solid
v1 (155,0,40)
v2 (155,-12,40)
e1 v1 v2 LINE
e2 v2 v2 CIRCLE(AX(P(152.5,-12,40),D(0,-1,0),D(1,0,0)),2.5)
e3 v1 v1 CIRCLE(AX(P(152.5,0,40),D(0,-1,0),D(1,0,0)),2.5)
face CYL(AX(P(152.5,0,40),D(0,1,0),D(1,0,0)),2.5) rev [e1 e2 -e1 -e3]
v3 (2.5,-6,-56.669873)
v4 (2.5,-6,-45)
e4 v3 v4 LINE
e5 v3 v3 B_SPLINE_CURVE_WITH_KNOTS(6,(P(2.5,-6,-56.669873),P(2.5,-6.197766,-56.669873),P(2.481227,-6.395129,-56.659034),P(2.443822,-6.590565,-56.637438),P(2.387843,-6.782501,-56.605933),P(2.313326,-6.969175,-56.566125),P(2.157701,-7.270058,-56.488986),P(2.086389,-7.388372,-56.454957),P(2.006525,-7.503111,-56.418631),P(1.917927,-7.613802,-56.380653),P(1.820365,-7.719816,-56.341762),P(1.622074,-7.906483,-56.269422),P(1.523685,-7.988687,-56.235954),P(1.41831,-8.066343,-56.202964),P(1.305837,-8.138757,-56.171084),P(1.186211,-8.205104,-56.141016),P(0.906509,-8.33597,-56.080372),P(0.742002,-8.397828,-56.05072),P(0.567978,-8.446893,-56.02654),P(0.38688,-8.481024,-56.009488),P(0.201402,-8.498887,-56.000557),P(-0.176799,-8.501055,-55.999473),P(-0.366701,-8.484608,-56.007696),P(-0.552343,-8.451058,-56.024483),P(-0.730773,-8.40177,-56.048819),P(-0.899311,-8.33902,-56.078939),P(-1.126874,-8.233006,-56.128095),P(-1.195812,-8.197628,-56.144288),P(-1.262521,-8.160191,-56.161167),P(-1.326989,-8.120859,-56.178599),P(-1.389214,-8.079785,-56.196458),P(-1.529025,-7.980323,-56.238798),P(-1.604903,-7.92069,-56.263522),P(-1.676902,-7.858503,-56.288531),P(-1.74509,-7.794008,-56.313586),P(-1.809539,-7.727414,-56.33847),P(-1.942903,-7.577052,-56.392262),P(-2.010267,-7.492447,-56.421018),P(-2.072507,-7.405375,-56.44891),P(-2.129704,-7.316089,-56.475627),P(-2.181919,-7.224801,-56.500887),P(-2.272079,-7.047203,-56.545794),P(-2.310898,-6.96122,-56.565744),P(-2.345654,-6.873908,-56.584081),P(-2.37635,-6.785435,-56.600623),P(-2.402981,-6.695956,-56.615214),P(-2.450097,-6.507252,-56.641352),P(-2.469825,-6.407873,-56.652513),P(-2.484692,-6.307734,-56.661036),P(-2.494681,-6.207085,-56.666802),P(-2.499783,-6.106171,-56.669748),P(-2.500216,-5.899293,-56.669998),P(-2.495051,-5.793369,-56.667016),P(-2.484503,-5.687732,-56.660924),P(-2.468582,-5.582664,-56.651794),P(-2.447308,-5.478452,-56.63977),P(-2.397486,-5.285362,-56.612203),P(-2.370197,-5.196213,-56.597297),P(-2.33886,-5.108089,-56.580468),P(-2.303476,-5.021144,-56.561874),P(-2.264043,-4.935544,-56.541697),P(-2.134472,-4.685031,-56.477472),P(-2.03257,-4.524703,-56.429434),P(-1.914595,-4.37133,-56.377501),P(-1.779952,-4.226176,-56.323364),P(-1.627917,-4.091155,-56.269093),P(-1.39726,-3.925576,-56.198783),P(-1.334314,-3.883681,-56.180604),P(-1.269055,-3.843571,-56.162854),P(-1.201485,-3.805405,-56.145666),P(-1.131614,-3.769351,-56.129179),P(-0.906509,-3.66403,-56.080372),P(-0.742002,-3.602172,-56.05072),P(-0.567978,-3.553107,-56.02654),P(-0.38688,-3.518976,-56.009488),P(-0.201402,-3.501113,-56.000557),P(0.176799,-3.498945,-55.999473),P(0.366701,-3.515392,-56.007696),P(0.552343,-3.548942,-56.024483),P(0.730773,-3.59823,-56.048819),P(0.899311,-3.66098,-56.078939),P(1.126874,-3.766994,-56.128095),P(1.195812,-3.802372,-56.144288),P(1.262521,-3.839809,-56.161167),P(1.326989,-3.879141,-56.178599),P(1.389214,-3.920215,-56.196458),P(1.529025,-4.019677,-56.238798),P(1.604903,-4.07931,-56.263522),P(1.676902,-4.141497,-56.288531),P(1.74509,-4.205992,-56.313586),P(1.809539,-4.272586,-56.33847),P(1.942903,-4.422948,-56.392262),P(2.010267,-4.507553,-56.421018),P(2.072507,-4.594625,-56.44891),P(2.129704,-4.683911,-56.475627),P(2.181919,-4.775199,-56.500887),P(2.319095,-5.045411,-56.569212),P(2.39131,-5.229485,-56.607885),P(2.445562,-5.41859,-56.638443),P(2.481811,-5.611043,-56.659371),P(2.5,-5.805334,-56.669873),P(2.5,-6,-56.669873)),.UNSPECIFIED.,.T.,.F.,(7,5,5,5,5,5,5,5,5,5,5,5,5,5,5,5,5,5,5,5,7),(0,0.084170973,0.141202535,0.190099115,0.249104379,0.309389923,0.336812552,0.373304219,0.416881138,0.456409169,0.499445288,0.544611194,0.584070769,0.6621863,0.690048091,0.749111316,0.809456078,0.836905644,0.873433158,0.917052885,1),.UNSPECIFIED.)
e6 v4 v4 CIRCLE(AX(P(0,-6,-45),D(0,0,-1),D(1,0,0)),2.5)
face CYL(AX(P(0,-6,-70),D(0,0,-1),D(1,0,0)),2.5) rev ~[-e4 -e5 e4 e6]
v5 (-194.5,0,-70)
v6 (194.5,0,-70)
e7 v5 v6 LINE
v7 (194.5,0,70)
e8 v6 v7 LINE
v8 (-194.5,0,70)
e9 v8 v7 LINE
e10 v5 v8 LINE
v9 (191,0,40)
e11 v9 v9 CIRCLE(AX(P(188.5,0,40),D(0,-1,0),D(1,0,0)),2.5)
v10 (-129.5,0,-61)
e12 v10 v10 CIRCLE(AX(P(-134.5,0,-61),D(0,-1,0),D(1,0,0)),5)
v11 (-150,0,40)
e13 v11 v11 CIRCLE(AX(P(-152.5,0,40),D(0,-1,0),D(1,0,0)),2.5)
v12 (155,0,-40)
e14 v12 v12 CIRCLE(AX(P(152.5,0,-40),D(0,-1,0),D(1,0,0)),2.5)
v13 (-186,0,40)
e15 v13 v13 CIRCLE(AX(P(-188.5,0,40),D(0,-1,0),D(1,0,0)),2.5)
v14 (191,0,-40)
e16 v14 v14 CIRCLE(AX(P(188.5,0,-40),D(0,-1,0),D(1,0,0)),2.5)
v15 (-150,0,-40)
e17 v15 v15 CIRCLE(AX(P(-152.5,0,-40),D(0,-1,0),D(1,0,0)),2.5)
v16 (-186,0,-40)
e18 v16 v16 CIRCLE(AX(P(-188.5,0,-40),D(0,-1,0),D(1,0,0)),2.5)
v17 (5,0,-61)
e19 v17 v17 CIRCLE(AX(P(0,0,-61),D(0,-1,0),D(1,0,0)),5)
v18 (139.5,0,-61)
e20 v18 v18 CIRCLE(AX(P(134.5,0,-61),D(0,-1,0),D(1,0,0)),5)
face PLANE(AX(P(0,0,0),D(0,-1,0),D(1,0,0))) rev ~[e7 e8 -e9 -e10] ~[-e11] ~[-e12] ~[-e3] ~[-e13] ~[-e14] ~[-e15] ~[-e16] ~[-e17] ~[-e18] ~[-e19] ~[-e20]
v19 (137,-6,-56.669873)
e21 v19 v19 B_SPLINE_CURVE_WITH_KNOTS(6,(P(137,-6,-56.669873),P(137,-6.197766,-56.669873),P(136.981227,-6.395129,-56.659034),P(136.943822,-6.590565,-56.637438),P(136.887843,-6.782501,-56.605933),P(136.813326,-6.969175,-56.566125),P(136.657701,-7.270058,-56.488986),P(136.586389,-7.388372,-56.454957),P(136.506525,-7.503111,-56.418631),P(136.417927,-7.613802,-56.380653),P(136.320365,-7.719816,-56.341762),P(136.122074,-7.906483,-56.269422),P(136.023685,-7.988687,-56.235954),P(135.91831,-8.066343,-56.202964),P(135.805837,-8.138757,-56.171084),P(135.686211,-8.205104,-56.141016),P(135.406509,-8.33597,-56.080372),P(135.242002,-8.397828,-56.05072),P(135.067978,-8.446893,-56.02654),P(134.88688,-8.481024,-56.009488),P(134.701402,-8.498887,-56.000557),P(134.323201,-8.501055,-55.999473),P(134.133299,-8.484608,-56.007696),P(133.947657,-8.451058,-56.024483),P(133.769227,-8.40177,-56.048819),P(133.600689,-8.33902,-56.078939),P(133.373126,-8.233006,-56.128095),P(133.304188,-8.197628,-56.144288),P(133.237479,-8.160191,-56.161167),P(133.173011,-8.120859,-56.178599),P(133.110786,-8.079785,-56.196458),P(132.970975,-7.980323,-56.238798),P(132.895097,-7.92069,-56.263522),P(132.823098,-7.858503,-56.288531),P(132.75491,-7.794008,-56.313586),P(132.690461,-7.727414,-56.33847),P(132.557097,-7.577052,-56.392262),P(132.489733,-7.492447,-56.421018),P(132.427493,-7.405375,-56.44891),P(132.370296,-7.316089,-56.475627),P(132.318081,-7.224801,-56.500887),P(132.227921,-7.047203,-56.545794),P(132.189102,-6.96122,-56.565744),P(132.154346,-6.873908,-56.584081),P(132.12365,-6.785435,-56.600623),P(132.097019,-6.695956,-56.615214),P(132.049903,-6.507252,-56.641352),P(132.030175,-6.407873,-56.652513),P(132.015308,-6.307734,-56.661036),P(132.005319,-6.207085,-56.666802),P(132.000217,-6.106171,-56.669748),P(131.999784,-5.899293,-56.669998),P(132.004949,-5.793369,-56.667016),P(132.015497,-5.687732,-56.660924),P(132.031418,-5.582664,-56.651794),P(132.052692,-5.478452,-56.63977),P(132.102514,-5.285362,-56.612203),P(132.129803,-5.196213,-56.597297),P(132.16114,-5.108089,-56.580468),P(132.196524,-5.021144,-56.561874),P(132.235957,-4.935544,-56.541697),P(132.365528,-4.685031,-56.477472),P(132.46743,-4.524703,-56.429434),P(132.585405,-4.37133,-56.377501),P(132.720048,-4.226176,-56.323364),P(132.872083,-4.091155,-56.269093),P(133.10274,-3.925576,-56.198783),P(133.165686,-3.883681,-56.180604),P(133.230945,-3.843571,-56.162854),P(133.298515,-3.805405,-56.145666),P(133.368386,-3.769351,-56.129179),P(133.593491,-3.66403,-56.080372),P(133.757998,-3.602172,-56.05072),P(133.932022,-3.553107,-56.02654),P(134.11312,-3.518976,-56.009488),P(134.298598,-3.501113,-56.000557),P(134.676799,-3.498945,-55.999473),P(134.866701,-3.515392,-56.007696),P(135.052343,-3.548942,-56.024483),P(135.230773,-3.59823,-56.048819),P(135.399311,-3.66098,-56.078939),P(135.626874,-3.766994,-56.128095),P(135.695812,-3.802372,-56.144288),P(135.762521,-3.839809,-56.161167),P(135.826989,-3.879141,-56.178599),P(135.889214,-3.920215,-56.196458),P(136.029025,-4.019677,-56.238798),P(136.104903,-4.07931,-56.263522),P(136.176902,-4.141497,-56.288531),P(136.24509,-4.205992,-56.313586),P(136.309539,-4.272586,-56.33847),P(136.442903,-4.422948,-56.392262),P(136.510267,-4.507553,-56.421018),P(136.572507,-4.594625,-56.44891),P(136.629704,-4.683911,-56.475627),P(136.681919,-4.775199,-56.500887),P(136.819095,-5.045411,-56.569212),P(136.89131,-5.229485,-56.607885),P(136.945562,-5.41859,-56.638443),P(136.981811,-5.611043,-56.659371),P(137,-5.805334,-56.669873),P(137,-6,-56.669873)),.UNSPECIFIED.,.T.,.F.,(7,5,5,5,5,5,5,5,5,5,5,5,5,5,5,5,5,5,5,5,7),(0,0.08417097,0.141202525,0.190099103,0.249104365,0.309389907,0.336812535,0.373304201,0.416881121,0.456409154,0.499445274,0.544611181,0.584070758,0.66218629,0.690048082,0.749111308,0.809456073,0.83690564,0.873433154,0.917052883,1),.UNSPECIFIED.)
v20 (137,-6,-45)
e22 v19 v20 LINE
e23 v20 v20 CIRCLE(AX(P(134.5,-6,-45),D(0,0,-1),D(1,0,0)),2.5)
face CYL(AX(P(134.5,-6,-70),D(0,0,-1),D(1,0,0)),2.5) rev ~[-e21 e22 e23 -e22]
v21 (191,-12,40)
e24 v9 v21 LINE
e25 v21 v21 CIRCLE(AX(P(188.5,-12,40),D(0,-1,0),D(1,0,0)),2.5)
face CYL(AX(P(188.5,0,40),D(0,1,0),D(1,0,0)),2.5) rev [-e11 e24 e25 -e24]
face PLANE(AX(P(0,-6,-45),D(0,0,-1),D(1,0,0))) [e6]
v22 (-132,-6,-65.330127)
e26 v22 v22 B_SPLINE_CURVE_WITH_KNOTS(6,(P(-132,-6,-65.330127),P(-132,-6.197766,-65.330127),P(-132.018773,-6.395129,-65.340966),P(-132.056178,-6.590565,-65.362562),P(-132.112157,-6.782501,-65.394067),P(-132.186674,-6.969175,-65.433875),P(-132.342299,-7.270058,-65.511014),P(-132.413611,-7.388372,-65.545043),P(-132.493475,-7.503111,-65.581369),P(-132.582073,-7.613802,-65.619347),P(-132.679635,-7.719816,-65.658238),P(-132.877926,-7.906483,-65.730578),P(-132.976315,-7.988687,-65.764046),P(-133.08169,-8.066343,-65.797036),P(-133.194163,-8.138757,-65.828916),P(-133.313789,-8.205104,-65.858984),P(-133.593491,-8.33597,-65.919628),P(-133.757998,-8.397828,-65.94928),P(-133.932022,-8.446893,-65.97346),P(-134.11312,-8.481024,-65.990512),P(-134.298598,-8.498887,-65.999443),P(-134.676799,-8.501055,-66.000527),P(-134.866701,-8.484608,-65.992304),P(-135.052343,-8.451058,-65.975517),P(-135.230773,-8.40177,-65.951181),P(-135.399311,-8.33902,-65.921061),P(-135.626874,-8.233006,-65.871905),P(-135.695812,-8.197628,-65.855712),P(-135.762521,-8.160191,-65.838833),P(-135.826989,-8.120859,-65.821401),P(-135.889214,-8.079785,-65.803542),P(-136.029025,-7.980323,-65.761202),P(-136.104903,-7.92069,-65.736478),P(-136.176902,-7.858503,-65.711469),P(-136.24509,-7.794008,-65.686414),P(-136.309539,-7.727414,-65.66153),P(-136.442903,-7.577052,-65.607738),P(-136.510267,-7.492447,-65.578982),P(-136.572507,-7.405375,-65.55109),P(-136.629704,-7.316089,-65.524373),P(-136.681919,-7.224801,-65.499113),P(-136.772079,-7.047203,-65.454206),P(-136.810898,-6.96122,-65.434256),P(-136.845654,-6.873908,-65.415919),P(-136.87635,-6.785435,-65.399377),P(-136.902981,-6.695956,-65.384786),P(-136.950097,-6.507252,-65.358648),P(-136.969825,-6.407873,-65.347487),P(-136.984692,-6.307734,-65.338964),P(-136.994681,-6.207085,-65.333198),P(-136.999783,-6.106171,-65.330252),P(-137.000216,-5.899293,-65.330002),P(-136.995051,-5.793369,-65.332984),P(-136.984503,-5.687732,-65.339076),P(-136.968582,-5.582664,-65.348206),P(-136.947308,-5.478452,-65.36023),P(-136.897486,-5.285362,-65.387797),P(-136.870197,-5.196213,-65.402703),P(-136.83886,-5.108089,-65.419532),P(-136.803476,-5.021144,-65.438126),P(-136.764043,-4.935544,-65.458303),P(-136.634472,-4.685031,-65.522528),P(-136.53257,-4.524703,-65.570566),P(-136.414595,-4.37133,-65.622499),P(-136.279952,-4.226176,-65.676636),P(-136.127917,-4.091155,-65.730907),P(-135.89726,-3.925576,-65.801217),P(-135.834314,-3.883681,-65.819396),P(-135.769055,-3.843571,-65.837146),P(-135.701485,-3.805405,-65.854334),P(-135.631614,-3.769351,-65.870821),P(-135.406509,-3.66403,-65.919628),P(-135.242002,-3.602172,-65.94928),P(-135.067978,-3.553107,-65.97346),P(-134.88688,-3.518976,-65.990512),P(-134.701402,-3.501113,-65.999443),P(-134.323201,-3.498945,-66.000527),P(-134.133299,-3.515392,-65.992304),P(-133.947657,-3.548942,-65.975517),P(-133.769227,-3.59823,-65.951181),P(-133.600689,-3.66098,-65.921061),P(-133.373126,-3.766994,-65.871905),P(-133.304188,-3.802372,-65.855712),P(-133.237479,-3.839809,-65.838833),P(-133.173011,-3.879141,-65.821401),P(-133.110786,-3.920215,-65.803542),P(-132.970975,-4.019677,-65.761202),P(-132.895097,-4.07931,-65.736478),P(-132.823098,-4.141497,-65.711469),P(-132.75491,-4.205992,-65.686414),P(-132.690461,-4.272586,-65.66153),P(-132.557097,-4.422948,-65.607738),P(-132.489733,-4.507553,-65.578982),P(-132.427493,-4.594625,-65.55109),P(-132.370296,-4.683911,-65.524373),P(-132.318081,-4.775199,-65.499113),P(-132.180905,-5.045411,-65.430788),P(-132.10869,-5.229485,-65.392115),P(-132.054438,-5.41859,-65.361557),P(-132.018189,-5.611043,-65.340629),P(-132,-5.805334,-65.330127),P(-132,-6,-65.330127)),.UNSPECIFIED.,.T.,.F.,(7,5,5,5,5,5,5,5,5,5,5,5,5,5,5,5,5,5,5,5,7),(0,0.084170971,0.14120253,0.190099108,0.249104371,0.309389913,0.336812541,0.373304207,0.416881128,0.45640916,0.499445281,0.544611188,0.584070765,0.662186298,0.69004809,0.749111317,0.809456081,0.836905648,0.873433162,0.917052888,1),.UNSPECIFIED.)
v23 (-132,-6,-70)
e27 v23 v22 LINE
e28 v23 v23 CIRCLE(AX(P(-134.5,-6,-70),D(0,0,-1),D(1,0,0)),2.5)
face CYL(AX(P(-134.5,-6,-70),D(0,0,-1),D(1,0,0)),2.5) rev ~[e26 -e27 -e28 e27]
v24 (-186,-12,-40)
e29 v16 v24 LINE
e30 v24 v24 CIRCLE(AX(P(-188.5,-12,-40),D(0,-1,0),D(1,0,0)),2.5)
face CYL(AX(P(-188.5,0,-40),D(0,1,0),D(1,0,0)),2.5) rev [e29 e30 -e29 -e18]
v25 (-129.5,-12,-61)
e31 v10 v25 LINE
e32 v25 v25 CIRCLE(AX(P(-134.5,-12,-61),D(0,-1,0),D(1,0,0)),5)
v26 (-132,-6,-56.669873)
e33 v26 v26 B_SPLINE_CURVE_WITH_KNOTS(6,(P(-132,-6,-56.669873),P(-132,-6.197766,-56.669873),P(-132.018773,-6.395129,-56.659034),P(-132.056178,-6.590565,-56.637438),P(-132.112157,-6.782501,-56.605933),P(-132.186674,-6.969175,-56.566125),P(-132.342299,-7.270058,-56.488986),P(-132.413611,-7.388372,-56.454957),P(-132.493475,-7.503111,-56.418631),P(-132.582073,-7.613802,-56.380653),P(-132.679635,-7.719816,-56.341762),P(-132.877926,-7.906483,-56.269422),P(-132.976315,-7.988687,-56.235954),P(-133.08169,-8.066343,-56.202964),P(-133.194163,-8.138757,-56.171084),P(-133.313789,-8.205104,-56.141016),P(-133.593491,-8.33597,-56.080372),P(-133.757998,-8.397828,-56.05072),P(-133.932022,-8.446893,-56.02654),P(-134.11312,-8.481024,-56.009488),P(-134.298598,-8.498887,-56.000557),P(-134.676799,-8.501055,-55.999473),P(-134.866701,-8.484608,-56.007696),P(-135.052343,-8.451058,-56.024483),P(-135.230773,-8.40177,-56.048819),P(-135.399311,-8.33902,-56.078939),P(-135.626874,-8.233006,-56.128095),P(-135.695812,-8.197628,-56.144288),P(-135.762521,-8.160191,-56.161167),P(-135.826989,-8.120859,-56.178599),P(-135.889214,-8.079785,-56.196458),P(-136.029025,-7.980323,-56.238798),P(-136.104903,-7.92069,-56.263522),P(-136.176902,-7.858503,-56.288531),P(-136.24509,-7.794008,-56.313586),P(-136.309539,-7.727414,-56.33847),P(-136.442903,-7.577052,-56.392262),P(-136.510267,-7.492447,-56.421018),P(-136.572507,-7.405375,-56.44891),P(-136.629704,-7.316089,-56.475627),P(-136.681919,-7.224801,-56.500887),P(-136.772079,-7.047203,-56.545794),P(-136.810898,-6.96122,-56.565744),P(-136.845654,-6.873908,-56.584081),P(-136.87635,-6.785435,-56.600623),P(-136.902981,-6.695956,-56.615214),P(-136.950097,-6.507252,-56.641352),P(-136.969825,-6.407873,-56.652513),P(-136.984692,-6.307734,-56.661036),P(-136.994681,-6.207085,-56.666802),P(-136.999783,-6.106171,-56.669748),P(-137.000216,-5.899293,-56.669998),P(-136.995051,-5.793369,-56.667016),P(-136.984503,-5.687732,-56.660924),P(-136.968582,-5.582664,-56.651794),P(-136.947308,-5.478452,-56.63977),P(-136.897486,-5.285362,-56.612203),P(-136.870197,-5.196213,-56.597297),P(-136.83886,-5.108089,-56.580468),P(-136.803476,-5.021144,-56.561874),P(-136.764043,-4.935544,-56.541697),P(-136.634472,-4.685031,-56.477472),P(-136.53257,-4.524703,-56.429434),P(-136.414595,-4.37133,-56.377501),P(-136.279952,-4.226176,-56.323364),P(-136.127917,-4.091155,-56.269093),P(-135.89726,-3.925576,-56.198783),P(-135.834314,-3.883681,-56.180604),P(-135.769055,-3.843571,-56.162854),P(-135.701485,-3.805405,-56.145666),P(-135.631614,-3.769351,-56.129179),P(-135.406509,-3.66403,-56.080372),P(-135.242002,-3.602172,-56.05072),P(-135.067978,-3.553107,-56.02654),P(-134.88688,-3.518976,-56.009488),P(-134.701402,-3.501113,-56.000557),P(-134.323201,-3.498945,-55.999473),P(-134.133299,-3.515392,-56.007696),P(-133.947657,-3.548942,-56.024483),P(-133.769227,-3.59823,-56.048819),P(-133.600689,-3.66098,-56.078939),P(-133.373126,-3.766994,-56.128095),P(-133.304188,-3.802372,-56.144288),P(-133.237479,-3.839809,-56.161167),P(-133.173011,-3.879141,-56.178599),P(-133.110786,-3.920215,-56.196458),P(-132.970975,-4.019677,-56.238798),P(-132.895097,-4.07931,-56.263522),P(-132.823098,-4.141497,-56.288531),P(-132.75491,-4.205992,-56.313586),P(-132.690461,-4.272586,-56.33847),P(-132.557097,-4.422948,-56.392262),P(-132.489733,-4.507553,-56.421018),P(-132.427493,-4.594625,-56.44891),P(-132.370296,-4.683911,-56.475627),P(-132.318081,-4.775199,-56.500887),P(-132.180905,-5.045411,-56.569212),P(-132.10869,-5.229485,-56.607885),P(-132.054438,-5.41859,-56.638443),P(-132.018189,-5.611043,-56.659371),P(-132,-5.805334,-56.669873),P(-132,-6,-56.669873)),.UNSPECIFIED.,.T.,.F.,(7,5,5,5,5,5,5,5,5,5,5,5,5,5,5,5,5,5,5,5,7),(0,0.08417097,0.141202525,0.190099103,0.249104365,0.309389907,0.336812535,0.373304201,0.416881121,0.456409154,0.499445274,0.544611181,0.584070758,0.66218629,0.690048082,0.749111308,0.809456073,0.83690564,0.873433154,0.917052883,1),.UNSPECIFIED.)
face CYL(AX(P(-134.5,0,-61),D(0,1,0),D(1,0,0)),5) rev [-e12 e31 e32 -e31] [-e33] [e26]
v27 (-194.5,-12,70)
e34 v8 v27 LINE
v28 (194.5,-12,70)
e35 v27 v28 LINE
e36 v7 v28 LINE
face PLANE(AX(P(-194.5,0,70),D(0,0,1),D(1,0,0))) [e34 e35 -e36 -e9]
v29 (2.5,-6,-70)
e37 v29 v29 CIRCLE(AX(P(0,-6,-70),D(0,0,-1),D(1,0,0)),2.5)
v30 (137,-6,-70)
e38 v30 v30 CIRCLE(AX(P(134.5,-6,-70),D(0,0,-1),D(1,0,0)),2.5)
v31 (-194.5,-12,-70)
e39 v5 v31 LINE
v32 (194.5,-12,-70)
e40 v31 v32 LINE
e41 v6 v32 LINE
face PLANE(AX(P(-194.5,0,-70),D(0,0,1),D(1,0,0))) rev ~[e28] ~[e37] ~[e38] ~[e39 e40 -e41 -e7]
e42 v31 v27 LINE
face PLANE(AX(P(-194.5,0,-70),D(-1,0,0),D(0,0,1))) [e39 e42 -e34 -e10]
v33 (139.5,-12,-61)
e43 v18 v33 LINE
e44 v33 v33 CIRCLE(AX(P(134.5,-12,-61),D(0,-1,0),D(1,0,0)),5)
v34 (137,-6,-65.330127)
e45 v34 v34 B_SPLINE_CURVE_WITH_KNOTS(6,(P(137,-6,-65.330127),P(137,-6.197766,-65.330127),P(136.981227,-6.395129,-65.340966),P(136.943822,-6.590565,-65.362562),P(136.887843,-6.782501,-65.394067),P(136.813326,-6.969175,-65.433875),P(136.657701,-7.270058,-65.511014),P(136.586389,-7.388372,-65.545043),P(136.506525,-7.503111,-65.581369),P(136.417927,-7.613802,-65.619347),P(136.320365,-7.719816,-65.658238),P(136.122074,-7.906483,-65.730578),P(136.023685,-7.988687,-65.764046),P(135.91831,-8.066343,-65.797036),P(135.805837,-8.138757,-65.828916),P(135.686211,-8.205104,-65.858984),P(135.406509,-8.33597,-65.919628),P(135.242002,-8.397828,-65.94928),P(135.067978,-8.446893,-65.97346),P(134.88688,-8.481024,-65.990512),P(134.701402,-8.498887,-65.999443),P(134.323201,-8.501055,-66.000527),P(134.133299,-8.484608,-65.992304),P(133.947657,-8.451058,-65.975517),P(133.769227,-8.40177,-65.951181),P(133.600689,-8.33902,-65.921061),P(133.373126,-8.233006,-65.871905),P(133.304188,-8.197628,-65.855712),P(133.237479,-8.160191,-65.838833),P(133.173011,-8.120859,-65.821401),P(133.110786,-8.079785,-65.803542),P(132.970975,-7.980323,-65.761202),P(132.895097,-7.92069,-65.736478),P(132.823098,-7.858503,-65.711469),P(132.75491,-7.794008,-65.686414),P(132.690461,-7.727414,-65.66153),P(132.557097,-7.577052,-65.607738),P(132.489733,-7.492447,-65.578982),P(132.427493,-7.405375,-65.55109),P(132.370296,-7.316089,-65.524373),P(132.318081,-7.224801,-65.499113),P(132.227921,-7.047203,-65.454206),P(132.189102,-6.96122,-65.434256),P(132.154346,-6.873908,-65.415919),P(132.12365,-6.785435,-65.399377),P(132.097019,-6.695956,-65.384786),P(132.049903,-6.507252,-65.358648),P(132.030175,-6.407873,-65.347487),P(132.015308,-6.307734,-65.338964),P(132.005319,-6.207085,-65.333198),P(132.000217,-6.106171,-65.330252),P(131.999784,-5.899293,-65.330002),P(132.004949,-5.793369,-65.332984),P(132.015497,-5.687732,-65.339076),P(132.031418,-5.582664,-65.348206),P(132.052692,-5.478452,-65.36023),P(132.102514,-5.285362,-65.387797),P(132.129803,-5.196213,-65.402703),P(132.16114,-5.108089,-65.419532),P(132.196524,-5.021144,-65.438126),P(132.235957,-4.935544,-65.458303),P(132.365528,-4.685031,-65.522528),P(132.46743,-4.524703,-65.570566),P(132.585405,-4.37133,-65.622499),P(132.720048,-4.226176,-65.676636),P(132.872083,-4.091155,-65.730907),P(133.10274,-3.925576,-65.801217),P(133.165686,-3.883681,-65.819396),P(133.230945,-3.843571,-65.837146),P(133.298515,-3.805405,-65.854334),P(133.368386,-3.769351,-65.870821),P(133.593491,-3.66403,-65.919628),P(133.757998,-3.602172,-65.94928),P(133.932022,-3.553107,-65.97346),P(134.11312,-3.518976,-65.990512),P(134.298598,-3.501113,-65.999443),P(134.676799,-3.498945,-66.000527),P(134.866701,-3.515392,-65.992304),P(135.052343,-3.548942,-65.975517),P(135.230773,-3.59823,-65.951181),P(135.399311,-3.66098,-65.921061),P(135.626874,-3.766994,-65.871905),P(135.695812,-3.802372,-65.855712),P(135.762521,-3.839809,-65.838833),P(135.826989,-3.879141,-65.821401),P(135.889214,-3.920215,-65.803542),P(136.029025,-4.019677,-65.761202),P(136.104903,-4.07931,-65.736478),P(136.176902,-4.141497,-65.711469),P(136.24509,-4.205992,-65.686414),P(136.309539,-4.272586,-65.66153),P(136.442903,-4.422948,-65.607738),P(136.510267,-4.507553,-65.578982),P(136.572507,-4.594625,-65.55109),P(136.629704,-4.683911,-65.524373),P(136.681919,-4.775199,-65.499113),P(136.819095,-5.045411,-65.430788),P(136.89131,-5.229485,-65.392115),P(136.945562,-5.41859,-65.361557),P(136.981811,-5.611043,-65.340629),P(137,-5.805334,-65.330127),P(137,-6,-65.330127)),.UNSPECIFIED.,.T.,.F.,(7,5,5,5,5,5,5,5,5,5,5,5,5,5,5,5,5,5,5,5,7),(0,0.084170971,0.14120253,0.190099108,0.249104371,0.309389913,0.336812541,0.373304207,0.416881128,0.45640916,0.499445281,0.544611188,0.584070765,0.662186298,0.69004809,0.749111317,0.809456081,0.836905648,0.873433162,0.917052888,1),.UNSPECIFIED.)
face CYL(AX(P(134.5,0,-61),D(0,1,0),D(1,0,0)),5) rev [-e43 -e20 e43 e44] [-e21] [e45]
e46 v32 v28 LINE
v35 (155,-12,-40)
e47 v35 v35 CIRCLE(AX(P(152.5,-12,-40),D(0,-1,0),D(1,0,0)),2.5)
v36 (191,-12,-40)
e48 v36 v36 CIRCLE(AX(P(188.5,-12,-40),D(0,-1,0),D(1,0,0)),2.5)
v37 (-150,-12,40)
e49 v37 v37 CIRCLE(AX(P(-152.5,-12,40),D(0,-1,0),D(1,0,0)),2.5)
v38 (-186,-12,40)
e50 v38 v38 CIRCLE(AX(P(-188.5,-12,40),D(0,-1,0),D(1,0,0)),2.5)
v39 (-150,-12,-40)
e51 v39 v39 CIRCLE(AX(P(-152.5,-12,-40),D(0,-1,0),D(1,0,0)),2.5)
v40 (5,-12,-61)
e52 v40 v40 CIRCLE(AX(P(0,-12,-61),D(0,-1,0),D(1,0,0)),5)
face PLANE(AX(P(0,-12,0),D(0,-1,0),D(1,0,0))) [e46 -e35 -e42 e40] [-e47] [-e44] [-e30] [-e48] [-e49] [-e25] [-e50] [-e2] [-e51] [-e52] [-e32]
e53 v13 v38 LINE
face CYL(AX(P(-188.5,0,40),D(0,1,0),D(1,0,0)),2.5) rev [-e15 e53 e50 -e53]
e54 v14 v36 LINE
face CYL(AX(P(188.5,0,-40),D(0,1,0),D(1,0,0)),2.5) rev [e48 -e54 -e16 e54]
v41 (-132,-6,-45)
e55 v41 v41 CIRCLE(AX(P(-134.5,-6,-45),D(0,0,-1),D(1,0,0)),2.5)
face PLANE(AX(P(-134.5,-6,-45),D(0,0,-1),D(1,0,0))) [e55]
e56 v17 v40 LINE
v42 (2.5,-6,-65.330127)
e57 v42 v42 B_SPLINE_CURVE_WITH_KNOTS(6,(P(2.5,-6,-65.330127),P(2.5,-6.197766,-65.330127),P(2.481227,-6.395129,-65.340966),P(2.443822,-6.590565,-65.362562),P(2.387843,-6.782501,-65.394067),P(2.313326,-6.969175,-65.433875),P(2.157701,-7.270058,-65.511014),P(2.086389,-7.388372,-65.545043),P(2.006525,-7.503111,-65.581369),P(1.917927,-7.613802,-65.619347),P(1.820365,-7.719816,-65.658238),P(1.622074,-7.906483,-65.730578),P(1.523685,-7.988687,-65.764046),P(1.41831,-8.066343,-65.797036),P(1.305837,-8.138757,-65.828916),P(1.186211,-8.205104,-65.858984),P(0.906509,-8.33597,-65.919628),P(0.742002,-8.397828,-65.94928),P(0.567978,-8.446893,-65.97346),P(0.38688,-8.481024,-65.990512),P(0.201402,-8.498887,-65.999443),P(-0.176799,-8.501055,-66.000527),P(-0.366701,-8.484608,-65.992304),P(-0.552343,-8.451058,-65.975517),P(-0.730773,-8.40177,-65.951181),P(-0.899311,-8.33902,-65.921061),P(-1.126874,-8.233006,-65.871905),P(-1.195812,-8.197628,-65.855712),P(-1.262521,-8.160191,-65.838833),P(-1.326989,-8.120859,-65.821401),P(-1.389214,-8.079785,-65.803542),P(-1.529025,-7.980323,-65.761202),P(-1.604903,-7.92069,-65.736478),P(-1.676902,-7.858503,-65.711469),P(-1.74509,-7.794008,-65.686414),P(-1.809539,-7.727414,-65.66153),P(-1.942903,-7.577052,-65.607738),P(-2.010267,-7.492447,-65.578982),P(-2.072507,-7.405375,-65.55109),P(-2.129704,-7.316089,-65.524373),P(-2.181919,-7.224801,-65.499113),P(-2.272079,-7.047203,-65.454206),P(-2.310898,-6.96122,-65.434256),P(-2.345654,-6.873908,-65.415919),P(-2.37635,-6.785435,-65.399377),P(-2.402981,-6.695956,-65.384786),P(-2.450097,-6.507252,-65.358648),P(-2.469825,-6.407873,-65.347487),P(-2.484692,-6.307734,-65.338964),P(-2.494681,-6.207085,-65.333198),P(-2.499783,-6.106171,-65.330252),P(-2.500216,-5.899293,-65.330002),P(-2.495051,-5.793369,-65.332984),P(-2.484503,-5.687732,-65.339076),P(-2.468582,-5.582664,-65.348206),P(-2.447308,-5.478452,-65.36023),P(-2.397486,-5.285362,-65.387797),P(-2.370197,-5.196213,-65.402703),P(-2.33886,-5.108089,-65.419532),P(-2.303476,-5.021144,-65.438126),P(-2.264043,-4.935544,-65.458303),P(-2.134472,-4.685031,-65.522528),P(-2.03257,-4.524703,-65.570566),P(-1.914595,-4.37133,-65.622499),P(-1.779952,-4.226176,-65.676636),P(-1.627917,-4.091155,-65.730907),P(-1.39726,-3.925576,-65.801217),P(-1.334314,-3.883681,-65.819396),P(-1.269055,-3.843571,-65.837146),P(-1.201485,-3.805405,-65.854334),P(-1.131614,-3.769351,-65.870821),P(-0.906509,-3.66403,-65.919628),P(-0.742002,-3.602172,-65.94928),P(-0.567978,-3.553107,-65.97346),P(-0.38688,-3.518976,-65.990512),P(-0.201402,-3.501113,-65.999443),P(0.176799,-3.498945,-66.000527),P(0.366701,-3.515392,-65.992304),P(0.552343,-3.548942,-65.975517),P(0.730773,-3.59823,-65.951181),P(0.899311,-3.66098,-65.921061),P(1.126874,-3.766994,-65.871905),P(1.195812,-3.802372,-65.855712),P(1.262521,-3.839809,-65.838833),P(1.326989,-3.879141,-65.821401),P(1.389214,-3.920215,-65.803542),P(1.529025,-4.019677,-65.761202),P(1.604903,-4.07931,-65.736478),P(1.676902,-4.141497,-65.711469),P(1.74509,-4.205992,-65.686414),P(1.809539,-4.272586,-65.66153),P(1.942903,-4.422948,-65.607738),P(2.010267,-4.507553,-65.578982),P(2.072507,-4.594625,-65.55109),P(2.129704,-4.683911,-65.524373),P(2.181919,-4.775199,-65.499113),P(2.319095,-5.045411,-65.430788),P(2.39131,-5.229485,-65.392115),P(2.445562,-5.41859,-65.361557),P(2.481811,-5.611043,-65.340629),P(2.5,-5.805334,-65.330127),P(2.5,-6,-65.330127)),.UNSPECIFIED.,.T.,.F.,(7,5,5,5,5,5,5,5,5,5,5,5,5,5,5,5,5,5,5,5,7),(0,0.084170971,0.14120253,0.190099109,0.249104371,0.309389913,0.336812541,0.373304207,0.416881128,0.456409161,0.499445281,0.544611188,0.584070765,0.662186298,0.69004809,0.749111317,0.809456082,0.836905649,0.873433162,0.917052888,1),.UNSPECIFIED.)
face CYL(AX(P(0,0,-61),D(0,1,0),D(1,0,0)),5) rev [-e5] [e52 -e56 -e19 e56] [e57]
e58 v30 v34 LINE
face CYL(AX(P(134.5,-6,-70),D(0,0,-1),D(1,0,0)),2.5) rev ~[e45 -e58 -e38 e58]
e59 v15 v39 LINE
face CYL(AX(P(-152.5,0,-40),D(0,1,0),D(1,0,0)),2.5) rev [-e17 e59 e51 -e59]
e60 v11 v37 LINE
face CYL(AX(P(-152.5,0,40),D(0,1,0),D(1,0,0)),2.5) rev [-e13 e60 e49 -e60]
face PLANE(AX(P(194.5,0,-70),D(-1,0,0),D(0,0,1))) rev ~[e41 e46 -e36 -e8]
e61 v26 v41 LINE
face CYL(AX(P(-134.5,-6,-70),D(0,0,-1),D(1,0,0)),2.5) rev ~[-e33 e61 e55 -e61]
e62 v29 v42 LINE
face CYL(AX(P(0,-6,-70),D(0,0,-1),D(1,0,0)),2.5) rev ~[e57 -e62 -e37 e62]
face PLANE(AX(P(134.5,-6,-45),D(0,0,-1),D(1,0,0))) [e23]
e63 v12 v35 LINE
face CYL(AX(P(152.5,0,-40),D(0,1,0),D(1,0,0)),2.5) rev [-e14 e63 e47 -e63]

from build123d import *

# Parameters (mm, degrees)
F0_W     = 389
F0_H     = 140
F0_R     = 5
F0_R_2   = 2.5
F1_DEPTH = 12
F2_R     = 2.5
F3_DEPTH = 25


with BuildPart() as f1:
    # F0 (on Front) → F1 (new body)
    with BuildSketch(Plane.XZ):
        Rectangle(F0_W, F0_H)
        with Locations((-134.5, -61)):
            Circle(F0_R, mode=Mode.SUBTRACT)
        with Locations((-188.5, -40)):
            Circle(F0_R_2, mode=Mode.SUBTRACT)
        with Locations((-152.5, -40)):
            Circle(F0_R_2, mode=Mode.SUBTRACT)
        with Locations((0, -61)):
            Circle(F0_R, mode=Mode.SUBTRACT)
        with Locations((134.5, -61)):
            Circle(F0_R, mode=Mode.SUBTRACT)
        with Locations((152.5, -40)):
            Circle(F0_R_2, mode=Mode.SUBTRACT)
        with Locations((188.5, -40)):
            Circle(F0_R_2, mode=Mode.SUBTRACT)
        with Locations((-188.5, 40)):
            Circle(F0_R_2, mode=Mode.SUBTRACT)
        with Locations((-152.5, 40)):
            Circle(F0_R_2, mode=Mode.SUBTRACT)
        with Locations((152.5, 40)):
            Circle(F0_R_2, mode=Mode.SUBTRACT)
        with Locations((188.5, 40)):
            Circle(F0_R_2, mode=Mode.SUBTRACT)
    extrude(amount=F1_DEPTH)

    # F2 (on face) → F3 (cut)
    with BuildSketch(Plane(origin=(0, 0, -70), x_dir=(1, 0, 0), z_dir=(0, 0, -1))):
        with Locations((0, 6)):
            Circle(F2_R)
        with Locations((134.5, 6)):
            Circle(F2_R)
        with Locations((-134.5, 6)):
            Circle(F2_R)
    extrude(amount=-F3_DEPTH, mode=Mode.SUBTRACT)


solid = f1.part
